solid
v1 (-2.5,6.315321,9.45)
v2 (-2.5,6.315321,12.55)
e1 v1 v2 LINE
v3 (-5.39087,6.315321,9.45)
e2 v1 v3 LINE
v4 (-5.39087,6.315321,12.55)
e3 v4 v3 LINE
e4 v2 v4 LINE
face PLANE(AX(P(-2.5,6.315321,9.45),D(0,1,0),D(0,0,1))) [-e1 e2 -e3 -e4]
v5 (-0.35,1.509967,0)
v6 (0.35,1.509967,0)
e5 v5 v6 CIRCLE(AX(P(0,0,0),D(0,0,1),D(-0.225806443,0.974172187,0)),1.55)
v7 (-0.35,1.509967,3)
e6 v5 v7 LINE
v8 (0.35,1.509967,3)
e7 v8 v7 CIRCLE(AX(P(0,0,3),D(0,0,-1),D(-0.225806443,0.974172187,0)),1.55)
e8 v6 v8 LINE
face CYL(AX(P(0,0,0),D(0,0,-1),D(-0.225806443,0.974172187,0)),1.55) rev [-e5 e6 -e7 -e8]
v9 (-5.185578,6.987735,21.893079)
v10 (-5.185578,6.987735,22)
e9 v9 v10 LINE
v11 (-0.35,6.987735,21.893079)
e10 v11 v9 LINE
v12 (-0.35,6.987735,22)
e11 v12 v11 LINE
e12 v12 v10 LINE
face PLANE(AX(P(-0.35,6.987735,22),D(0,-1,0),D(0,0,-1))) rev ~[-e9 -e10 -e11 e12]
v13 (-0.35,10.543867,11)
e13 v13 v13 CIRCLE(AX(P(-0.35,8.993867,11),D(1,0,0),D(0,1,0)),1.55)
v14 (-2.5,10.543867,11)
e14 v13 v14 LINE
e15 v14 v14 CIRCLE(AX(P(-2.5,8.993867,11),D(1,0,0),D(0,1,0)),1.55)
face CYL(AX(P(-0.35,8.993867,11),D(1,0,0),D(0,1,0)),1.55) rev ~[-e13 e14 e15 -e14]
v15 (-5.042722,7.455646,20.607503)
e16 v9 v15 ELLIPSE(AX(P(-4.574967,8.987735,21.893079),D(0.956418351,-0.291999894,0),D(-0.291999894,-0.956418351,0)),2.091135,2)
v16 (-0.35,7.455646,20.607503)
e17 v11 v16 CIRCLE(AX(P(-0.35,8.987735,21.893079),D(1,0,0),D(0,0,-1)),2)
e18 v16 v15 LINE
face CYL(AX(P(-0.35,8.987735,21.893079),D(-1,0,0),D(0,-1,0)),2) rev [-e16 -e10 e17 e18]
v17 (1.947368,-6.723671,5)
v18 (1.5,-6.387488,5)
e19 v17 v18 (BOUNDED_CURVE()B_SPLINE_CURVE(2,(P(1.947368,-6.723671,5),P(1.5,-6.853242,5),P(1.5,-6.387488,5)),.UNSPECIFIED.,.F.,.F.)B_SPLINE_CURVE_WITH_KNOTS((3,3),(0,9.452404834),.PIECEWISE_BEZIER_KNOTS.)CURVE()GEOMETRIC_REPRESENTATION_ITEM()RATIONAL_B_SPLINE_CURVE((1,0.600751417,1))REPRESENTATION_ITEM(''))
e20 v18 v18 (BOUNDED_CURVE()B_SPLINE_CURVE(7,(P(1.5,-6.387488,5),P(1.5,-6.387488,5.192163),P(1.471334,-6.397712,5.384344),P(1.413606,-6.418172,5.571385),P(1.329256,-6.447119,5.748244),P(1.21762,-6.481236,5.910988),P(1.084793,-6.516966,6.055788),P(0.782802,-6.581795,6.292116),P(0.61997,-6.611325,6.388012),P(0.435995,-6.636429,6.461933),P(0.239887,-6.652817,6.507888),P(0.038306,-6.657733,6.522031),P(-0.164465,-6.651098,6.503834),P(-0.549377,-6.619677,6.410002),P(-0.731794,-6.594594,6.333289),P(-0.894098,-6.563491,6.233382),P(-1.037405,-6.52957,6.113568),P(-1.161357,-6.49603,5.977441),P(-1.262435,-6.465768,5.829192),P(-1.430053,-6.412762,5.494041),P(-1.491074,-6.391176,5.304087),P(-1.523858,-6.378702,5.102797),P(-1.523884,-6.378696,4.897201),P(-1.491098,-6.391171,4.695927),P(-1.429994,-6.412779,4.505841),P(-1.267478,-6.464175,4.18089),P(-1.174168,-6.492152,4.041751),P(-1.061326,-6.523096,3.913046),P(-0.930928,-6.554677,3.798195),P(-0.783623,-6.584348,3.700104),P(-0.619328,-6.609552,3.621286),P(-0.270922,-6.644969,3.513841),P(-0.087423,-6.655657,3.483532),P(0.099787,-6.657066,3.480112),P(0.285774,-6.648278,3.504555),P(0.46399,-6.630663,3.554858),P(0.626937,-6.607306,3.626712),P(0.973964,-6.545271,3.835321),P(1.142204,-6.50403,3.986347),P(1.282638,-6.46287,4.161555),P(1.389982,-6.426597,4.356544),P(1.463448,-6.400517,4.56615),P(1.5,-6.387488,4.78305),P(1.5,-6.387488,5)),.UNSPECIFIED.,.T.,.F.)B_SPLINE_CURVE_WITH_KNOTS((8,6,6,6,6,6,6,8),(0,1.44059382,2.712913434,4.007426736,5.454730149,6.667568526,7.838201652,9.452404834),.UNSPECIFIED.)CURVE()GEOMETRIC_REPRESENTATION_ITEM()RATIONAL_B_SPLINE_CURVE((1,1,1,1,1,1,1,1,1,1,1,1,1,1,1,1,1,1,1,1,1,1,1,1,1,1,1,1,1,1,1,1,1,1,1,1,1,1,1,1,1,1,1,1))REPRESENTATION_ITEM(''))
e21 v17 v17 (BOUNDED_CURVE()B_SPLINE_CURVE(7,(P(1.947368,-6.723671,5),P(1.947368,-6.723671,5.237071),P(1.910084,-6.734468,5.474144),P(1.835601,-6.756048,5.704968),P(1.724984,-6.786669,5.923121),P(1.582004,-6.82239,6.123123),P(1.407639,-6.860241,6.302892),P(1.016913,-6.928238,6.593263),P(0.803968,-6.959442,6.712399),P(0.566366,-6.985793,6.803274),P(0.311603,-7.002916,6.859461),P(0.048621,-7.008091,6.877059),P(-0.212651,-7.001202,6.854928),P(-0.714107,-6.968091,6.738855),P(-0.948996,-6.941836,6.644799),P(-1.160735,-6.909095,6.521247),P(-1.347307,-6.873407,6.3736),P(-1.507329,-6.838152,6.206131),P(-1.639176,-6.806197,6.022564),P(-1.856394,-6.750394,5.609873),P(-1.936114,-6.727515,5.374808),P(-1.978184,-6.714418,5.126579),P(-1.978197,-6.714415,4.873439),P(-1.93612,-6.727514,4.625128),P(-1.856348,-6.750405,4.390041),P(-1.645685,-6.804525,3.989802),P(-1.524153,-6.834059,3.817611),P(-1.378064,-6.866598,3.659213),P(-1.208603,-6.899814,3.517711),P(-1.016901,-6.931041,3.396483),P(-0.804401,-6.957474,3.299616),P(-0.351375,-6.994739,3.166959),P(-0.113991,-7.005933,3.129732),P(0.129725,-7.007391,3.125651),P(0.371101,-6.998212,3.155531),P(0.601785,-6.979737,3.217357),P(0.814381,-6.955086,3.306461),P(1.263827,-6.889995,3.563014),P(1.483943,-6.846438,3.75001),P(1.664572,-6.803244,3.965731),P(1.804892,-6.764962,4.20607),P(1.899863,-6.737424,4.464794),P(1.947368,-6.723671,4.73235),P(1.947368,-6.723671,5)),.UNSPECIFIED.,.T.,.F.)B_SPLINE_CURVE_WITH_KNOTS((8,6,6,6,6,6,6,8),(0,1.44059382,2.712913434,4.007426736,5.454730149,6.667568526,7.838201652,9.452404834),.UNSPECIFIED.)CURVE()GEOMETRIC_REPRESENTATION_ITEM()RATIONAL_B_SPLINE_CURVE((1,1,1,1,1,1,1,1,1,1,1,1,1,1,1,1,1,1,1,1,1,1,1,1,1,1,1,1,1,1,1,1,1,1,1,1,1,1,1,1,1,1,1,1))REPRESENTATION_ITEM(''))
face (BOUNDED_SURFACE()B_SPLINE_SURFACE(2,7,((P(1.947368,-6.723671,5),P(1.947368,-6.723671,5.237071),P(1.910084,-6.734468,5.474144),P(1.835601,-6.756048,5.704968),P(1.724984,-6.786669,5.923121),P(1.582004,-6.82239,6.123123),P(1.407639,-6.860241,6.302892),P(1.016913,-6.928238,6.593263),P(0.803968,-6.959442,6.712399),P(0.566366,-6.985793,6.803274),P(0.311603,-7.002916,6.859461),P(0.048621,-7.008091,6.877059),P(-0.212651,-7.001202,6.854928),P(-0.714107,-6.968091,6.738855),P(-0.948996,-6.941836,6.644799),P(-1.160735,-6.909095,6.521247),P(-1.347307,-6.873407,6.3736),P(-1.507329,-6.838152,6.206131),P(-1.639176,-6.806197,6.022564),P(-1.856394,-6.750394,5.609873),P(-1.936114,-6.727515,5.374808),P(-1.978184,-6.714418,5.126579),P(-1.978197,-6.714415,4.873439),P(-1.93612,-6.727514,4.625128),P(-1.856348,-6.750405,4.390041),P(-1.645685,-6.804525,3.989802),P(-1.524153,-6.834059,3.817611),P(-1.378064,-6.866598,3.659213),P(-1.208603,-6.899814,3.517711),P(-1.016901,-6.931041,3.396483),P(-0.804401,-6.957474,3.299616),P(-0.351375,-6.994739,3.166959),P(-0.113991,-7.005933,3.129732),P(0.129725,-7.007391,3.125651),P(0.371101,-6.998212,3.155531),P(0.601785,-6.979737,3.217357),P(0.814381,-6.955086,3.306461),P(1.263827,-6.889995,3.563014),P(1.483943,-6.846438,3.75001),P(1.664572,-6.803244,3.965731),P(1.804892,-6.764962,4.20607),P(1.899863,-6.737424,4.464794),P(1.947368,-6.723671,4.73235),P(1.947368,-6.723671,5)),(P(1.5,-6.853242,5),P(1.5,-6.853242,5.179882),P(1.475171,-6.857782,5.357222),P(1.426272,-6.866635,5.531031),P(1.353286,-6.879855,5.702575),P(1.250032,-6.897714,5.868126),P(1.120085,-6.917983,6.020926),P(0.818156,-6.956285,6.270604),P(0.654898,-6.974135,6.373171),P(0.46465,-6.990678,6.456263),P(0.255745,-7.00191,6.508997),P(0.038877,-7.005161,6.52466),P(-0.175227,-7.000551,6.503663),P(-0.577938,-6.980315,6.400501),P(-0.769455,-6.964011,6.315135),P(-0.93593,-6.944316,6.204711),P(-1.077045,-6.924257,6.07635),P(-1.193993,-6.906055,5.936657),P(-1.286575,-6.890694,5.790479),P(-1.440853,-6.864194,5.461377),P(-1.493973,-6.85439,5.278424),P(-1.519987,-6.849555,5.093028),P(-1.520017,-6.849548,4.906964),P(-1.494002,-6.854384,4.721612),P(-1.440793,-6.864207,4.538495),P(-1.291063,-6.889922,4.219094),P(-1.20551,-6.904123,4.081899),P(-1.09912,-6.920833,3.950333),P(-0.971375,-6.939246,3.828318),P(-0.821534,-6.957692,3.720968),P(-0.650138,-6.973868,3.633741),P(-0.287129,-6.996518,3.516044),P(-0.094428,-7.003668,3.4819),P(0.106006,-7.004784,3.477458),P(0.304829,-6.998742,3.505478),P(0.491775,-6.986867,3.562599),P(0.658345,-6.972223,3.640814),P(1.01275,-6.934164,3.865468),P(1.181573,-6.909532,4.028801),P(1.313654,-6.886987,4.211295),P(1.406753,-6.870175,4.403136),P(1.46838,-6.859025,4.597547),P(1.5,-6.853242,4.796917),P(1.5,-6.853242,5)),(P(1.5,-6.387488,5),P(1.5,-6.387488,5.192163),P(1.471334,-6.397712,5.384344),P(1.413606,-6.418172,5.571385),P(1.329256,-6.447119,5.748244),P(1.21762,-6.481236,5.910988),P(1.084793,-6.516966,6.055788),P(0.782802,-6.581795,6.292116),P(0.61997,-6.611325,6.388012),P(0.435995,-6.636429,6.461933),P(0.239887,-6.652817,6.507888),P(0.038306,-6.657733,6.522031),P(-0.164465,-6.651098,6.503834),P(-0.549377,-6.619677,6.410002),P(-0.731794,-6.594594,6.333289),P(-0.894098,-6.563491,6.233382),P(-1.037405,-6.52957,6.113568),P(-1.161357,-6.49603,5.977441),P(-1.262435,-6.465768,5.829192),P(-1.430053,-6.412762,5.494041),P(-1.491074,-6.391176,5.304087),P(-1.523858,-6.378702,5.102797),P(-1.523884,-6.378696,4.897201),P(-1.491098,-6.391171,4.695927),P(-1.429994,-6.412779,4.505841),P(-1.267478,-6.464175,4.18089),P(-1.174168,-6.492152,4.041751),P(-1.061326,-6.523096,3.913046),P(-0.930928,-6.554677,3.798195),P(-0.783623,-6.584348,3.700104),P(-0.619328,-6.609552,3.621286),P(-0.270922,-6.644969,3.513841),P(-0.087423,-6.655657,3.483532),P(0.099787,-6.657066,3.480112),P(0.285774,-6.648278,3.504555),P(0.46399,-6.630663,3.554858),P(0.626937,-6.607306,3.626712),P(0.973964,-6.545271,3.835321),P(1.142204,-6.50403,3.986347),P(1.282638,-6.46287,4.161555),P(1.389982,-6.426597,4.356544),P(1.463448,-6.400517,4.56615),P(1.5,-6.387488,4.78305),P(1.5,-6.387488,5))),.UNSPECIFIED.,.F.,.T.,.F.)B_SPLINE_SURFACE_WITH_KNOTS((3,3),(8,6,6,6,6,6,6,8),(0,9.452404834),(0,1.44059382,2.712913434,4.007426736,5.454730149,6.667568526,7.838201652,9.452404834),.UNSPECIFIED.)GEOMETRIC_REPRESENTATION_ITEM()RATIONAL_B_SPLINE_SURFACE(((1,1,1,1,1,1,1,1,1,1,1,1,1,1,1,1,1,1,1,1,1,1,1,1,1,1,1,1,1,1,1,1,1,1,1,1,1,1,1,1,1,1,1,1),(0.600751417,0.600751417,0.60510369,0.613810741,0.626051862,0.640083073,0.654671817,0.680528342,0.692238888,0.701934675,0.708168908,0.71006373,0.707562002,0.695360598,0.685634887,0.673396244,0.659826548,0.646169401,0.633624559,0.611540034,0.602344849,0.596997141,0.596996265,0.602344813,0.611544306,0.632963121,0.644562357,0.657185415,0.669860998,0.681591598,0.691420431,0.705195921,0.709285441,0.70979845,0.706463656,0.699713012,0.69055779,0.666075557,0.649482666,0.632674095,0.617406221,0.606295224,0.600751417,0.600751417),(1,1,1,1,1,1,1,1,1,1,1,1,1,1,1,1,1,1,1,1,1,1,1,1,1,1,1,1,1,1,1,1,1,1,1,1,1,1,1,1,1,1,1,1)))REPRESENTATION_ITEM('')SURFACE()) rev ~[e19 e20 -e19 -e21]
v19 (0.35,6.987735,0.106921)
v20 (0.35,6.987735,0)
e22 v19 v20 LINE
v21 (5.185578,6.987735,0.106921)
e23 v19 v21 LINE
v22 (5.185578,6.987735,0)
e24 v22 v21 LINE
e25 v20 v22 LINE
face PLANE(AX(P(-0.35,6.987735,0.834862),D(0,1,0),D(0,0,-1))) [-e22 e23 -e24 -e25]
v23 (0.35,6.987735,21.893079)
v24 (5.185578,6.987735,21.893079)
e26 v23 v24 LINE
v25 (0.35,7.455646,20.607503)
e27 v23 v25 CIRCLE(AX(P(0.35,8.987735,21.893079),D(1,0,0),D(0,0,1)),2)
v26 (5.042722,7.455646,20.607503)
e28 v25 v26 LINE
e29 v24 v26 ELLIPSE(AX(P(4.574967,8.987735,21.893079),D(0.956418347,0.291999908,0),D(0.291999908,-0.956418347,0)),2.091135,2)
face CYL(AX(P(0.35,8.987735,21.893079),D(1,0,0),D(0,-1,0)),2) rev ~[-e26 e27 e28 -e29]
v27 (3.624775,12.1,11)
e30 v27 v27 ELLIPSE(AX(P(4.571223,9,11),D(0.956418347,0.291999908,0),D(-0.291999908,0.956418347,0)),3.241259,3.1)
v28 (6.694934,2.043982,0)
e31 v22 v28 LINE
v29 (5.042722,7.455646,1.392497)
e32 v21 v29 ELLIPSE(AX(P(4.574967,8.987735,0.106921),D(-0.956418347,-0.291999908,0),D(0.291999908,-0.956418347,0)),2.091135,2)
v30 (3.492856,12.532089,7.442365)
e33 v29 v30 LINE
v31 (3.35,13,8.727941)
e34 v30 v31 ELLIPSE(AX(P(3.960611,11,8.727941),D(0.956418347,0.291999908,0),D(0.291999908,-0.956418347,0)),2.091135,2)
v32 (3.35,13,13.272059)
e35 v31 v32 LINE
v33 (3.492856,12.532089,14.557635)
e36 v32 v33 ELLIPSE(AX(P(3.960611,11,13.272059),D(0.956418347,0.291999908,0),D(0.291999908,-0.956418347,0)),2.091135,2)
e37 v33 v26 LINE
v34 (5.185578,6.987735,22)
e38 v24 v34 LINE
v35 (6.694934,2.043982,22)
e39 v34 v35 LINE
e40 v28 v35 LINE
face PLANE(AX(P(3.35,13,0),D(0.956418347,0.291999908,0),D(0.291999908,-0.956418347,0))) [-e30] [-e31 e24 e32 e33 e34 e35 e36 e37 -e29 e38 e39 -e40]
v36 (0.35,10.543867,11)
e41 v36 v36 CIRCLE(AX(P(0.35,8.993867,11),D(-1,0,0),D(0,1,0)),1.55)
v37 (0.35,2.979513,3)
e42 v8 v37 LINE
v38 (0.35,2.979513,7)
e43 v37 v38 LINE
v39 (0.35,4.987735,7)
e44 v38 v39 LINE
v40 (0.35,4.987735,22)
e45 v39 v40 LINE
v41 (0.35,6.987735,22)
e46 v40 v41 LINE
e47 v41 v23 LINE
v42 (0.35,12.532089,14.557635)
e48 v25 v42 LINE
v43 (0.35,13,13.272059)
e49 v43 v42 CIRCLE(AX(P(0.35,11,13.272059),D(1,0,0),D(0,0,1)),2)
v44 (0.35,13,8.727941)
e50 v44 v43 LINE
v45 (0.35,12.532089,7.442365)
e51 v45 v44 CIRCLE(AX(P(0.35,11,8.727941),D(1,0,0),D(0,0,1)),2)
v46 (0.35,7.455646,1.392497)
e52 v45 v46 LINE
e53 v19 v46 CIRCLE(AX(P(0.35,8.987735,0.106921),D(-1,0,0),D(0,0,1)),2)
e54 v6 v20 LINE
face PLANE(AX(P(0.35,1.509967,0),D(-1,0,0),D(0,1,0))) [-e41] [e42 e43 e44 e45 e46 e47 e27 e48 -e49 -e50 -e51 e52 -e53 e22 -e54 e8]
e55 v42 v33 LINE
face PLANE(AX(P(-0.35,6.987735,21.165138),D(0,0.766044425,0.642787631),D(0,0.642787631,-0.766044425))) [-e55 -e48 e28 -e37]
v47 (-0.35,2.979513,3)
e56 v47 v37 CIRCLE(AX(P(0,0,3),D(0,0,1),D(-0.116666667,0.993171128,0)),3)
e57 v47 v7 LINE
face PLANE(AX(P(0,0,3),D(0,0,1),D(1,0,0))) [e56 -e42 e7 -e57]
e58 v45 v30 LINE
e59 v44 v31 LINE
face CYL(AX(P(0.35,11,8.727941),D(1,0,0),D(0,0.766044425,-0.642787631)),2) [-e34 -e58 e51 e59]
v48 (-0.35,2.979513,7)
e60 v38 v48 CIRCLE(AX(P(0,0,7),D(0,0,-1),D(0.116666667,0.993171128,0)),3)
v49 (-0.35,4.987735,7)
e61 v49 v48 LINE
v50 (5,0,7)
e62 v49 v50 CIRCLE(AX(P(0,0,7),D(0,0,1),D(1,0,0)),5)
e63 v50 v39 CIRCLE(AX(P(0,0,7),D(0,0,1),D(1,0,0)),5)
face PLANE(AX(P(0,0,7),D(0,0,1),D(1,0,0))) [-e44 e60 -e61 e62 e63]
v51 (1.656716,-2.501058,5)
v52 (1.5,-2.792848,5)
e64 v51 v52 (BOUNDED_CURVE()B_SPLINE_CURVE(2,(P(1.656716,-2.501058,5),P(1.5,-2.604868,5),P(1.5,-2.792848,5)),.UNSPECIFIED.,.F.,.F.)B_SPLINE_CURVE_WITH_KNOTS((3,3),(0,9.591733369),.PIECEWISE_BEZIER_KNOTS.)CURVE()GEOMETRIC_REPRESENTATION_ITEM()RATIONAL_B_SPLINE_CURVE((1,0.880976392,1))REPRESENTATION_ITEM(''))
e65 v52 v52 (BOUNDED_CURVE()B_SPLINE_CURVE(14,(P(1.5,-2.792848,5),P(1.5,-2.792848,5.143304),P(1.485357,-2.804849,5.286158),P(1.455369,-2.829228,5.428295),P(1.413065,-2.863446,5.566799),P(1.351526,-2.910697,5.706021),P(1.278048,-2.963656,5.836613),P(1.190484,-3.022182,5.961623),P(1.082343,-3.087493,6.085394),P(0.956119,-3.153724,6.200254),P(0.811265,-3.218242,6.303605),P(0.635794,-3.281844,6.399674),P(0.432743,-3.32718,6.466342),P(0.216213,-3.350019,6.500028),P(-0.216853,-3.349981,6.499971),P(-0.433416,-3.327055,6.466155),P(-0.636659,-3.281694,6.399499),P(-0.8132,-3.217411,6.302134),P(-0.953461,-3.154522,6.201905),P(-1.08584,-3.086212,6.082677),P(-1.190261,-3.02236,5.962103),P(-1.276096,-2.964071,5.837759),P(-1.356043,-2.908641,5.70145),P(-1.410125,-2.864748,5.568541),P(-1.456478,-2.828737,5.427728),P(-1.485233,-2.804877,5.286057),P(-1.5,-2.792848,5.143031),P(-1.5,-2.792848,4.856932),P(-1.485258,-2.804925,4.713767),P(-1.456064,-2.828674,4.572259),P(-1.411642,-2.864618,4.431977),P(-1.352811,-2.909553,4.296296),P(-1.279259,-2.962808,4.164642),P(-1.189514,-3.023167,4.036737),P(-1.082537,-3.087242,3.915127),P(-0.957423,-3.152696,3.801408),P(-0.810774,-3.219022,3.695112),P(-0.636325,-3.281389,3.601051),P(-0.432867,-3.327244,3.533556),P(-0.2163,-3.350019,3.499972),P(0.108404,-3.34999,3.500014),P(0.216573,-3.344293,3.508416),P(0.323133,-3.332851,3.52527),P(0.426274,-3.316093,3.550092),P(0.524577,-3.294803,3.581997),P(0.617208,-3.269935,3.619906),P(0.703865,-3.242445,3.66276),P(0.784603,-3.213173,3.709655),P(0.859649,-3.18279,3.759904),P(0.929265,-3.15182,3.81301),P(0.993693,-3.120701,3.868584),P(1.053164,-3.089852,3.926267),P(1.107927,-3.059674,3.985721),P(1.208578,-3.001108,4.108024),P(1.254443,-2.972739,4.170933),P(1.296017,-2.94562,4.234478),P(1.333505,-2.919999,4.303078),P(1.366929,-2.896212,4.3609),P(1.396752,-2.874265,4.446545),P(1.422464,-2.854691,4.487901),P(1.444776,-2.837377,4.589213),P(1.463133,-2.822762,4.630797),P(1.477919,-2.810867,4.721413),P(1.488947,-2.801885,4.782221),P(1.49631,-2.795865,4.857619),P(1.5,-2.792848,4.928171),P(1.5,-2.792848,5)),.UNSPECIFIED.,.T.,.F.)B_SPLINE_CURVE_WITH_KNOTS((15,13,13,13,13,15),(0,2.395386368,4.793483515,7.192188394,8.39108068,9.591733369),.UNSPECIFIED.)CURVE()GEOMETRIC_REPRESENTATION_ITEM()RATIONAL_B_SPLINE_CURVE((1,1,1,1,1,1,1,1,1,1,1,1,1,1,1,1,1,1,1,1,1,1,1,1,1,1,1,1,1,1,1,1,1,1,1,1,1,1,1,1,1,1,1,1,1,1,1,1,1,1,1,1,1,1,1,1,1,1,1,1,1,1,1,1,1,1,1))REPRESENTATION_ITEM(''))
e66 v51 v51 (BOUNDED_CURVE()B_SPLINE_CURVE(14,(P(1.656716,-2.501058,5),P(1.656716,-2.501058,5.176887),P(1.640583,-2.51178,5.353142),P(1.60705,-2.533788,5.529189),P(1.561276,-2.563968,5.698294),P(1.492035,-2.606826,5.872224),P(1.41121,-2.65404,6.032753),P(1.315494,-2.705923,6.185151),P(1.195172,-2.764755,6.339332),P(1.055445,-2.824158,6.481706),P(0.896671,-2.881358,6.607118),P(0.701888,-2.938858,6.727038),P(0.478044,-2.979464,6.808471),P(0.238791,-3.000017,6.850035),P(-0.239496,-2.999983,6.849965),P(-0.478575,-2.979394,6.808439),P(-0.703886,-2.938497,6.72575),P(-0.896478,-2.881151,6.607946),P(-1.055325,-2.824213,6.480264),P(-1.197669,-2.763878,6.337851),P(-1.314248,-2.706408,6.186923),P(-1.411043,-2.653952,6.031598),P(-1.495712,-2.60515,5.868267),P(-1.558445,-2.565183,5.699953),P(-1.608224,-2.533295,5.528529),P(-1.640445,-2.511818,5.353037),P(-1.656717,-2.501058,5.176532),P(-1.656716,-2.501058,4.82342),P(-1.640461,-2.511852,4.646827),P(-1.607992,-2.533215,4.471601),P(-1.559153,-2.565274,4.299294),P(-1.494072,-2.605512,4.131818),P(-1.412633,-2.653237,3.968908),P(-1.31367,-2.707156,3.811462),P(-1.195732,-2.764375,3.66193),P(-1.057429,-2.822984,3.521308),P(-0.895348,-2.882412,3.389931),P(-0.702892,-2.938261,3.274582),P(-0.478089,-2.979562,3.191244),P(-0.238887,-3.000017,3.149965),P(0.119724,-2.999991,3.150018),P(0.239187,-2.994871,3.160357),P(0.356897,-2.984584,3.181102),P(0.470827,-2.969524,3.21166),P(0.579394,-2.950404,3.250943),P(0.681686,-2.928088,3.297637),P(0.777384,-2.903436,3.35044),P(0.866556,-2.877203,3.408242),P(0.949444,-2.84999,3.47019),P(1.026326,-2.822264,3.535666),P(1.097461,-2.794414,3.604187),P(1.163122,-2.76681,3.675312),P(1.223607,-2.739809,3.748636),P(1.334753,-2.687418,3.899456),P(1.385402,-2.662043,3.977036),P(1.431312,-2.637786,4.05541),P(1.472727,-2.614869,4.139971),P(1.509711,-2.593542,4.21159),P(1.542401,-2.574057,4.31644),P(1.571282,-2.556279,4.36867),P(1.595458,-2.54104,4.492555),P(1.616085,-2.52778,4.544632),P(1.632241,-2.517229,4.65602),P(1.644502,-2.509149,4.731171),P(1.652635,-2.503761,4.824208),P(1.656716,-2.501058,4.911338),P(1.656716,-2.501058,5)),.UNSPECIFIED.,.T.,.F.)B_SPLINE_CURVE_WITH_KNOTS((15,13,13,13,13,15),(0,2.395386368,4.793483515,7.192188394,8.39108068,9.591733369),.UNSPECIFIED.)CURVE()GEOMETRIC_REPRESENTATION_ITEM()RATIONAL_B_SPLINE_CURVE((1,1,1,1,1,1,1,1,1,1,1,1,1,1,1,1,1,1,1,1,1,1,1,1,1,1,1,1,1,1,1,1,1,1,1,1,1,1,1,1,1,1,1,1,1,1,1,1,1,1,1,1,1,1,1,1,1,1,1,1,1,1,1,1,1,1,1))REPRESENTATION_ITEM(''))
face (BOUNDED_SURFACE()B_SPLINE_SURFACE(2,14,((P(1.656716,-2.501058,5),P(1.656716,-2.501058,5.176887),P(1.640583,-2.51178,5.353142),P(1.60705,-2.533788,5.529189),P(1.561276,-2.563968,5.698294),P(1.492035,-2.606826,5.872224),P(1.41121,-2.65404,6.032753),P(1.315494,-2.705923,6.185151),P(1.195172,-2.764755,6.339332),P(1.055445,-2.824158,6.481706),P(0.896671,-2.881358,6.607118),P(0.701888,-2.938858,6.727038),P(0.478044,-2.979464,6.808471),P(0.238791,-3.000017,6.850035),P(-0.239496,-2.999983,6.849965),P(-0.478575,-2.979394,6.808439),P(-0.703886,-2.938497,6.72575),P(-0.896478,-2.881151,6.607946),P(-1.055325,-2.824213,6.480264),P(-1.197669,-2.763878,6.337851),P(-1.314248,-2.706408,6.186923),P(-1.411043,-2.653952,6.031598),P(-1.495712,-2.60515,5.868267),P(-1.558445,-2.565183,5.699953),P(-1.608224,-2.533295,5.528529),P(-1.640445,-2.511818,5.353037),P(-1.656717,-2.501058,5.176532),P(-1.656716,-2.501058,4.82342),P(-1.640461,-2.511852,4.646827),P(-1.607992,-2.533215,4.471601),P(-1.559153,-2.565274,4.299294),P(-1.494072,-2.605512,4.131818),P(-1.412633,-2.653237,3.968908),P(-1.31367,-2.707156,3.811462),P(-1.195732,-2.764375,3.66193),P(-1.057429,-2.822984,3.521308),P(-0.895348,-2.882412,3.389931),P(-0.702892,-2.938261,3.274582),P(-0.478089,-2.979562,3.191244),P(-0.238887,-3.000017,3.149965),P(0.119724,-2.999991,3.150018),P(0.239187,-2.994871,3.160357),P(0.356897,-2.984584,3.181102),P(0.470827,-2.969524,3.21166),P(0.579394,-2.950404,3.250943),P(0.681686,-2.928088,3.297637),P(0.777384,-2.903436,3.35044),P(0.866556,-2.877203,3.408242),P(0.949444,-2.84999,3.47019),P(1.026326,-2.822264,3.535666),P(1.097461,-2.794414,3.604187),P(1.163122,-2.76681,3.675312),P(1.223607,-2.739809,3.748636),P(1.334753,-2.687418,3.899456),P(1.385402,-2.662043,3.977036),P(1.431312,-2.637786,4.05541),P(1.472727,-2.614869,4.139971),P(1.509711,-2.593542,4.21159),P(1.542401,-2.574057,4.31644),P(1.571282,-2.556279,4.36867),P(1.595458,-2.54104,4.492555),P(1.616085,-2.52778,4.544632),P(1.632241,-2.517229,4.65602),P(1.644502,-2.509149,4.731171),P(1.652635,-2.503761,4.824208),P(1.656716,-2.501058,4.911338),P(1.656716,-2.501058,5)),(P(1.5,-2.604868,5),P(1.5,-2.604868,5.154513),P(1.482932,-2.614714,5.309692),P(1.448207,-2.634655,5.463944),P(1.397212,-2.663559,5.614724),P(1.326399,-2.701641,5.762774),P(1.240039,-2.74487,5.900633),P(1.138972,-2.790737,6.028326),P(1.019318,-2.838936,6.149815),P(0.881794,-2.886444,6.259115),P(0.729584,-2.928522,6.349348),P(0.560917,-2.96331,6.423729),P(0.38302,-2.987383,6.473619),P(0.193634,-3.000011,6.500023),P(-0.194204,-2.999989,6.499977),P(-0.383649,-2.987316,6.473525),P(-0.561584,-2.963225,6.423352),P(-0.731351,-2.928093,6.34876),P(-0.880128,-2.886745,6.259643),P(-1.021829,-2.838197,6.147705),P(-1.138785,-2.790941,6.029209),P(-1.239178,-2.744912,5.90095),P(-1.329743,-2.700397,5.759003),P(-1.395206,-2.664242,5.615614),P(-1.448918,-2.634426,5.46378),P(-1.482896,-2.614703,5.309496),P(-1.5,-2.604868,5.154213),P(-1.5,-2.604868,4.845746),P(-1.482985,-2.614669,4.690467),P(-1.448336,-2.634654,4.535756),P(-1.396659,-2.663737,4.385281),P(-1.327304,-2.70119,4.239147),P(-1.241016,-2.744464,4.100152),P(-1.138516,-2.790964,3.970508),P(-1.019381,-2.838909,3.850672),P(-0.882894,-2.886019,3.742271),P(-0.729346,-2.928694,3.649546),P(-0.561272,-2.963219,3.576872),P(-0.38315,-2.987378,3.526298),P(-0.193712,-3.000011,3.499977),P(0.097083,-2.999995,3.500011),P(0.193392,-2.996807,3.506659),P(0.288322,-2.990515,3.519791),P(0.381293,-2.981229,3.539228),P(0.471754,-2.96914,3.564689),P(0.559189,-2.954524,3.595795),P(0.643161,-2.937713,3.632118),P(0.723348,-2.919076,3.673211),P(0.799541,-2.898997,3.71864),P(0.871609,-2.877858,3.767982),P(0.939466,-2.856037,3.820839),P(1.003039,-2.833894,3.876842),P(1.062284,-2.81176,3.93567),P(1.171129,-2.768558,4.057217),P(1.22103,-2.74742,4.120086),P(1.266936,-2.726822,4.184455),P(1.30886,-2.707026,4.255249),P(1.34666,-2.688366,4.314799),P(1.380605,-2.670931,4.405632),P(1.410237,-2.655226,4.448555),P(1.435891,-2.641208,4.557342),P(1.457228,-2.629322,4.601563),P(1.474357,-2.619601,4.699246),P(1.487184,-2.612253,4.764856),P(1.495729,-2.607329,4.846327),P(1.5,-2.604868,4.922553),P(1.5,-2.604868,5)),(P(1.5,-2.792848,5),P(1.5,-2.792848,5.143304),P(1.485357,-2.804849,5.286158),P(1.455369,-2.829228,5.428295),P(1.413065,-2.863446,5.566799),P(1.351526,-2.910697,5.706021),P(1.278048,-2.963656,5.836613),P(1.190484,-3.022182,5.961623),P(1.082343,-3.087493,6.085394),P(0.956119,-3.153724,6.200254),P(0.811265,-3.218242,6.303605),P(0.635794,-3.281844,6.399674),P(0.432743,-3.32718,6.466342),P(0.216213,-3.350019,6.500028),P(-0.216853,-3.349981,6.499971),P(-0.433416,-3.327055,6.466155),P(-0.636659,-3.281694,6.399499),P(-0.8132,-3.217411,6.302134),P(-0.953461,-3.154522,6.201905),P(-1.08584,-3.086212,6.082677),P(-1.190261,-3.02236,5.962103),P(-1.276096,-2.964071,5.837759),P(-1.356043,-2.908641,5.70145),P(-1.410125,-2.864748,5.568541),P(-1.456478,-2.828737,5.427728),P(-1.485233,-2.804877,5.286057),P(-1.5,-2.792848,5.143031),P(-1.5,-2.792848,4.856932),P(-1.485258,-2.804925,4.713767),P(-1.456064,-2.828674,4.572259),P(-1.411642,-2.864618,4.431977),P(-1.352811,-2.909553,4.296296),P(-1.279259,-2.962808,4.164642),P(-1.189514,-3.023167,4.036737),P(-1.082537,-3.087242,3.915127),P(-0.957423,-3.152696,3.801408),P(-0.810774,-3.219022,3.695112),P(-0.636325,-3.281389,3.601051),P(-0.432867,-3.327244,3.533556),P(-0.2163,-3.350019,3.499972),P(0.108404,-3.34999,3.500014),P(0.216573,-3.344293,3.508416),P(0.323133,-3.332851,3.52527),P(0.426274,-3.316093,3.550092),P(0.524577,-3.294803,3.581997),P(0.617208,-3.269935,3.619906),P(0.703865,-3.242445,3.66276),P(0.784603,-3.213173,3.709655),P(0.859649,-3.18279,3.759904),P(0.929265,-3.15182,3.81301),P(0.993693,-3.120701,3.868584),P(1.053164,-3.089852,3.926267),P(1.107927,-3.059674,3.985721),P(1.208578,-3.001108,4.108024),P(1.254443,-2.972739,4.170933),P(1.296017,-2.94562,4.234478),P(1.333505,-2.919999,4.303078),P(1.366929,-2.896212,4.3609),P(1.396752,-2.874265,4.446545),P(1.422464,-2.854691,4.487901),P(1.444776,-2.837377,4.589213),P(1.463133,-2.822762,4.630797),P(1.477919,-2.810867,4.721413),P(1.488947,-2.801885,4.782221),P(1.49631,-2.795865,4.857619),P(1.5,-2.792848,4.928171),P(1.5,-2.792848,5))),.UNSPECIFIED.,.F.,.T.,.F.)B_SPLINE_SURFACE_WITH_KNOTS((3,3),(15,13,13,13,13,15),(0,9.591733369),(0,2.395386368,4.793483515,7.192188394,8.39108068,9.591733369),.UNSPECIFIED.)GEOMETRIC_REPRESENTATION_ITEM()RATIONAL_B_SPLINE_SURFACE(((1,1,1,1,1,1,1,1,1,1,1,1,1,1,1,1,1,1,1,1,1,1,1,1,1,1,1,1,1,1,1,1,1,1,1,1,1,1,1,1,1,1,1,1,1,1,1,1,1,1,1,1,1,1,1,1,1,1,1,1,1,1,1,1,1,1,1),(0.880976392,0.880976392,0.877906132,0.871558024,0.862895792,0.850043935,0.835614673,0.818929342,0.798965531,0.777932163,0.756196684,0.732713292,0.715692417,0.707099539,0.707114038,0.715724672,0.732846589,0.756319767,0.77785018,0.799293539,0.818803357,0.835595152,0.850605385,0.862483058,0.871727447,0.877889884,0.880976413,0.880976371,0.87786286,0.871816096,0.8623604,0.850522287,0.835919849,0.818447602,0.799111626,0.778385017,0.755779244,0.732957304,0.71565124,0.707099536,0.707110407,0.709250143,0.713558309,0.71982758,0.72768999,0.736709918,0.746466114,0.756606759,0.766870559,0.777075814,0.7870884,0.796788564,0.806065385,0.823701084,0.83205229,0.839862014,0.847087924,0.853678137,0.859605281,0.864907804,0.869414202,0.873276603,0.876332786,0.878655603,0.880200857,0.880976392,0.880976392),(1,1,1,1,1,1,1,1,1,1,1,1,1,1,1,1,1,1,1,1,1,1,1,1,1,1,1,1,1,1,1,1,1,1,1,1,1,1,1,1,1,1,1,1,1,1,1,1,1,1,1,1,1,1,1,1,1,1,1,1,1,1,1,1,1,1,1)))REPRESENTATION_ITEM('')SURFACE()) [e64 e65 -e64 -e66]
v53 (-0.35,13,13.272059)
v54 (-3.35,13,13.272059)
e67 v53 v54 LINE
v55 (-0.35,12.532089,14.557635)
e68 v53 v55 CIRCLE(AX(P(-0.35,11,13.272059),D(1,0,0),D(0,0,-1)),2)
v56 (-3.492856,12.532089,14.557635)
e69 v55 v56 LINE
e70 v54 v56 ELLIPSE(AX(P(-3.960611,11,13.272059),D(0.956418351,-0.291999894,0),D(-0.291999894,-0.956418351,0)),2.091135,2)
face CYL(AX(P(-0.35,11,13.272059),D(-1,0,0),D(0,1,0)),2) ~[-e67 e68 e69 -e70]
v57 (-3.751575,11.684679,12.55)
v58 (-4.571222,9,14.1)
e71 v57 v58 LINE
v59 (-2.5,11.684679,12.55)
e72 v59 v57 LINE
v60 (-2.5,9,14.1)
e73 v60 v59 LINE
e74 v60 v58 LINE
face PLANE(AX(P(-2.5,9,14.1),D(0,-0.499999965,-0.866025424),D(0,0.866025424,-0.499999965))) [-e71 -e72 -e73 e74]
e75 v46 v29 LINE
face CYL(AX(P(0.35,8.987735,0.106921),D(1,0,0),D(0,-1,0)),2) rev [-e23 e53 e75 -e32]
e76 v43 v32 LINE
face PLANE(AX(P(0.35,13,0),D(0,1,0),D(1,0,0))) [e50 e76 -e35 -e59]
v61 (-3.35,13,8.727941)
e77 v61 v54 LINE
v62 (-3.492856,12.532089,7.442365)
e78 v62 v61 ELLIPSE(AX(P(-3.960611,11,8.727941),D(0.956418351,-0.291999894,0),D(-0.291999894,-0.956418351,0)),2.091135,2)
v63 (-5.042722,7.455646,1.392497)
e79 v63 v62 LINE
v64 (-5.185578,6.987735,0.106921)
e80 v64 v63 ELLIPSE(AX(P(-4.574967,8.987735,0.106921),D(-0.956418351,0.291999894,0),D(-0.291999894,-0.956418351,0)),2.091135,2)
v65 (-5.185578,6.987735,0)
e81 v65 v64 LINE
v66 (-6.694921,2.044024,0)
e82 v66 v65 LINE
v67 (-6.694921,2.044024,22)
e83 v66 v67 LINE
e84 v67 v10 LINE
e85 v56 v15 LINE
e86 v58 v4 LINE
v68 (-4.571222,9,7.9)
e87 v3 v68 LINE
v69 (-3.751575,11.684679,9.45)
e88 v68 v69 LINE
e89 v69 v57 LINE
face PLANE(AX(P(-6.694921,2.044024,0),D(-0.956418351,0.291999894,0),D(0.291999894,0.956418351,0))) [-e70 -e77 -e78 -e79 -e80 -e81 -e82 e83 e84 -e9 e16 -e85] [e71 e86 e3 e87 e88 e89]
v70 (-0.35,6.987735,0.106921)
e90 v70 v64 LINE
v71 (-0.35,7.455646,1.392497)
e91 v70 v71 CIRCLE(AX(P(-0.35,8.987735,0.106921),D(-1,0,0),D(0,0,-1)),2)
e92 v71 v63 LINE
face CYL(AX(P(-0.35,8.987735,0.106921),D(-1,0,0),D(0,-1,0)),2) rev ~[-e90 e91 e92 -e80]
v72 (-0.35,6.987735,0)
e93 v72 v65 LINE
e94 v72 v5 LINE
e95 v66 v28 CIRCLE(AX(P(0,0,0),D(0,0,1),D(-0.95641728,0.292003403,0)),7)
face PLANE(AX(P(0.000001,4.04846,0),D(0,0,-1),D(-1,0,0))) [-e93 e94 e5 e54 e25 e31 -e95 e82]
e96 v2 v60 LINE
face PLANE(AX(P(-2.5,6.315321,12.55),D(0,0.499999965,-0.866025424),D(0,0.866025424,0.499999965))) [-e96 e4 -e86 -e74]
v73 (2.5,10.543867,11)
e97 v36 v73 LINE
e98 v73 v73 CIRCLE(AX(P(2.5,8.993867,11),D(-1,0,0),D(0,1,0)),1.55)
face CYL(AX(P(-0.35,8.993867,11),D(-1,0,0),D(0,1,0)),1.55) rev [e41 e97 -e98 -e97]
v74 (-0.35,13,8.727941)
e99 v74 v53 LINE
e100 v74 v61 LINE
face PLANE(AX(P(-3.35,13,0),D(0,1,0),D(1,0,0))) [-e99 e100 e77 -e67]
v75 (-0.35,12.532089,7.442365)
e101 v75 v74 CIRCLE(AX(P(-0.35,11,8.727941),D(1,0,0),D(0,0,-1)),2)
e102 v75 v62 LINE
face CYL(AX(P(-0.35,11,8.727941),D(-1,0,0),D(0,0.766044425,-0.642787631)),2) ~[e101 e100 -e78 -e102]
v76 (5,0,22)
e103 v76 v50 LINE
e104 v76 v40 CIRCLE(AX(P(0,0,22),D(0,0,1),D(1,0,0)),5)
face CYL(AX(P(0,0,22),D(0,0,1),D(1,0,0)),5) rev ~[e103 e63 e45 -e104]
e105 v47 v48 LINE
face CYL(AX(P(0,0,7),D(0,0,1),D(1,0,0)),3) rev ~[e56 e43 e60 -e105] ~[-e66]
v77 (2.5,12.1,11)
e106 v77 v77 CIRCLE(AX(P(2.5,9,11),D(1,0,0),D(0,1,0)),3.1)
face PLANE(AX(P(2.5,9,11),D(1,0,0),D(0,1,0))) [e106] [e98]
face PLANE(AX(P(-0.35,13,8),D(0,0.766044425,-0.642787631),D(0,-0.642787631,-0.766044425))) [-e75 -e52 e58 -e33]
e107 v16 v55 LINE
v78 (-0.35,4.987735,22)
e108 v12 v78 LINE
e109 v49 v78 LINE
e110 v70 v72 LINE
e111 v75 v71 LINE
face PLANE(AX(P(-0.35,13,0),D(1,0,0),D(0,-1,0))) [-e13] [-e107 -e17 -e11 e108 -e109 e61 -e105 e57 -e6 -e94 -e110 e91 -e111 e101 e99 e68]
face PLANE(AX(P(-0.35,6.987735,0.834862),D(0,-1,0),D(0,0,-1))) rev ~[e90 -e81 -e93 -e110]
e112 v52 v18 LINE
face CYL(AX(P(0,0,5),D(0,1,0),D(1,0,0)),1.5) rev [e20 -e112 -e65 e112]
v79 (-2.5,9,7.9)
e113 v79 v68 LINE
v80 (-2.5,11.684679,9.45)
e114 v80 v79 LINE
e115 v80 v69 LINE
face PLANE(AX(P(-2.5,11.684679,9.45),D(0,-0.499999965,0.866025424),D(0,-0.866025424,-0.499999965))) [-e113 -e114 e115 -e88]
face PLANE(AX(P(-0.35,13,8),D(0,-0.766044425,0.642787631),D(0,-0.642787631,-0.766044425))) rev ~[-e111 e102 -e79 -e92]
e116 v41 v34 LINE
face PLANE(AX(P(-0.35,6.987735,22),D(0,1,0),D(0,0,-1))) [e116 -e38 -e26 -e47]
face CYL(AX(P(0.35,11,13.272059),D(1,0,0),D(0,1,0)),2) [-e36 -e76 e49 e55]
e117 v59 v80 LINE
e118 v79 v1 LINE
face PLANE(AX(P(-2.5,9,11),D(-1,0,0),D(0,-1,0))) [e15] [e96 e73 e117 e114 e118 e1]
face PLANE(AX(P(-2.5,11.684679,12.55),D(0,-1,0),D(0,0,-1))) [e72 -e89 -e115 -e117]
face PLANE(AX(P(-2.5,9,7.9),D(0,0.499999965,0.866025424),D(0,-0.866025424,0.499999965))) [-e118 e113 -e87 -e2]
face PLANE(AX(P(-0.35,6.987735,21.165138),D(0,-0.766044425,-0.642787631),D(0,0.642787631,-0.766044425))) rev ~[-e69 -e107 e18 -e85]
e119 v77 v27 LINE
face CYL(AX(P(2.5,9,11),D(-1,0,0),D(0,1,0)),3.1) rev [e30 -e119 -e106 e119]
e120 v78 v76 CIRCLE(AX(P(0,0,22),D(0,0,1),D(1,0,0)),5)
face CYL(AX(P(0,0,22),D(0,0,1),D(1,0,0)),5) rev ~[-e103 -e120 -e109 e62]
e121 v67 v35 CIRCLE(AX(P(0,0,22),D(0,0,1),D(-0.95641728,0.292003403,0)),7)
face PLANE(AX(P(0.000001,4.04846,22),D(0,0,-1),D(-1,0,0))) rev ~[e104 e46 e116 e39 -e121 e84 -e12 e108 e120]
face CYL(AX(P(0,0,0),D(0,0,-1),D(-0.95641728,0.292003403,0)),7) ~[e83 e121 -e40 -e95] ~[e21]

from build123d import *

# Parameters (mm, degrees)
EXTRUDE003_DEPTH                     = 10
SKETCH005_R                          = 3.1
EXTRUDE002_DEPTH                     = 10
SKETCH003_AS_DRAWN_R                 = 1.5
EXTRUDE001_DEPTH                     = 10
EXTRUDE001_ONTO_SKETCH003_ROLL_ANGLE = 90
EXTRUDE_DEPTH                        = 22
SKETCH001_R                          = 5
POCKET_DEPTH                         = 15
SKETCH002_R                          = 3
POCKET001_DEPTH                      = 4
FILLET_R                             = 0.35
SKETCH004_R                          = 1.55
POCKET002_DEPTH                      = 6.651
POCKET002_DEPTH_BACK                 = -7.351
FILLET001_R                          = 2


with BuildPart() as extrude003:
    # Sketch006 → Extrude003 (new body)
    with BuildSketch(Plane(origin=(-2.5, 0, 0), x_dir=(0, -1, 0), z_dir=(-1, 0, 0))):
        Polygon((-9, 14.1), (-11.684679, 12.55), (-11.684679, 9.45), (-9, 7.9), (-6.315321, 9.45), (-6.315321, 12.55), align=None)
    extrude(amount=EXTRUDE003_DEPTH)


with BuildPart() as extrude002:
    # Sketch005 → Extrude002 (new body)
    with BuildSketch(Plane.YZ.offset(2.5)):
        with Locations((9, 11)):
            Circle(SKETCH005_R)
    extrude(amount=EXTRUDE002_DEPTH)


with BuildPart() as extrude001:
    # Sketch003 as drawn → Extrude001 (new)
    with BuildSketch(Plane.XY):
        with Locations((0, 5)):
            Circle(SKETCH003_AS_DRAWN_R)
    extrude(amount=EXTRUDE001_DEPTH)


with BuildPart() as extrude001_1:
    # Extrude001 onto Sketch003 roll: moved
    add(extrude001.part.rotate(Axis((0, 0, 0), (1, 0, 0)), EXTRUDE001_ONTO_SKETCH003_ROLL_ANGLE))


with BuildPart() as extrude001_2:
    # Extrude001 onto Sketch003 placement: moved
    add(extrude001_1.part)


with BuildPart() as fillet001:
    # Sketch → Extrude (new body)
    with BuildSketch(Plane.XY):
        with BuildLine():
            ThreePointArc((-0.35, 1.509967), (0, -1.55), (0.35, 1.509967))
            Line((0.35, 1.509967), (0.35, 13))
            Line((0.35, 13), (3.35, 13))
            Line((3.35, 13), (6.694934, 2.043982))
            ThreePointArc((-6.694921, 2.044024), (-2.2e-05, -7), (6.694934, 2.043982))
            Line((-6.694921, 2.044024), (-3.35, 13))
            Line((-3.35, 13), (-0.35, 13))
            Line((-0.35, 13), (-0.35, 1.509967))
        make_face()
    extrude(amount=EXTRUDE_DEPTH)

    # Sketch001 → Pocket (cut)
    with BuildSketch(Plane.XY.offset(22)):
        Circle(SKETCH001_R)
    extrude(amount=-POCKET_DEPTH, mode=Mode.SUBTRACT)

    # Sketch002 → Pocket001 (cut)
    with BuildSketch(Plane.XY.offset(7)):
        Circle(SKETCH002_R)
    extrude(amount=-POCKET001_DEPTH, mode=Mode.SUBTRACT)

    # Cut: cut Extrude001
    add(extrude001_2.part, mode=Mode.SUBTRACT)

    # Fillet
    fillet_edges = [fillet001.edges().sort_by_distance(p)[0] for p in [
        (-1.5, -6.837397, 5),
        (-1.5, -2.598076, 5),
    ]]
    fillet(fillet_edges, radius=FILLET_R)

    # Sketch004 → Pocket002 (cut, two sides)
    with BuildSketch(Plane.YZ.offset(-0.35)) as pocket002_sk:
        with Locations((8.993867, 11)):
            Circle(SKETCH004_R)
        Polygon((6.987735, 22), (6.987735, 21.165138), (13, 14), (13, 22), align=None)
        Polygon((13, 8), (6.987735, 0.834862), (6.987735, 0), (13, 0), align=None)
    extrude(amount=-POCKET002_DEPTH, mode=Mode.SUBTRACT)
    extrude(pocket002_sk.sketch, amount=-POCKET002_DEPTH_BACK, mode=Mode.SUBTRACT)

    # Cut001: cut Extrude002
    add(extrude002.part, mode=Mode.SUBTRACT)

    # Cut003: cut Extrude003
    add(extrude003.part, mode=Mode.SUBTRACT)

    # Fillet001
    fillet001_edges = [fillet001.edges().sort_by_distance(p)[0] for p in [
        (-2.767789, 6.987735, 0.834862),
        (-1.85, 13, 8),
        (-2.767789, 6.987735, 21.165138),
        (-1.85, 13, 14),
        (2.767789, 6.987735, 0.834862),
        (2.767789, 6.987735, 21.165138),
        (1.85, 13, 8),
        (1.85, 13, 14),
    ]]
    fillet(fillet001_edges, radius=FILLET001_R)


solid = fillet001.part
